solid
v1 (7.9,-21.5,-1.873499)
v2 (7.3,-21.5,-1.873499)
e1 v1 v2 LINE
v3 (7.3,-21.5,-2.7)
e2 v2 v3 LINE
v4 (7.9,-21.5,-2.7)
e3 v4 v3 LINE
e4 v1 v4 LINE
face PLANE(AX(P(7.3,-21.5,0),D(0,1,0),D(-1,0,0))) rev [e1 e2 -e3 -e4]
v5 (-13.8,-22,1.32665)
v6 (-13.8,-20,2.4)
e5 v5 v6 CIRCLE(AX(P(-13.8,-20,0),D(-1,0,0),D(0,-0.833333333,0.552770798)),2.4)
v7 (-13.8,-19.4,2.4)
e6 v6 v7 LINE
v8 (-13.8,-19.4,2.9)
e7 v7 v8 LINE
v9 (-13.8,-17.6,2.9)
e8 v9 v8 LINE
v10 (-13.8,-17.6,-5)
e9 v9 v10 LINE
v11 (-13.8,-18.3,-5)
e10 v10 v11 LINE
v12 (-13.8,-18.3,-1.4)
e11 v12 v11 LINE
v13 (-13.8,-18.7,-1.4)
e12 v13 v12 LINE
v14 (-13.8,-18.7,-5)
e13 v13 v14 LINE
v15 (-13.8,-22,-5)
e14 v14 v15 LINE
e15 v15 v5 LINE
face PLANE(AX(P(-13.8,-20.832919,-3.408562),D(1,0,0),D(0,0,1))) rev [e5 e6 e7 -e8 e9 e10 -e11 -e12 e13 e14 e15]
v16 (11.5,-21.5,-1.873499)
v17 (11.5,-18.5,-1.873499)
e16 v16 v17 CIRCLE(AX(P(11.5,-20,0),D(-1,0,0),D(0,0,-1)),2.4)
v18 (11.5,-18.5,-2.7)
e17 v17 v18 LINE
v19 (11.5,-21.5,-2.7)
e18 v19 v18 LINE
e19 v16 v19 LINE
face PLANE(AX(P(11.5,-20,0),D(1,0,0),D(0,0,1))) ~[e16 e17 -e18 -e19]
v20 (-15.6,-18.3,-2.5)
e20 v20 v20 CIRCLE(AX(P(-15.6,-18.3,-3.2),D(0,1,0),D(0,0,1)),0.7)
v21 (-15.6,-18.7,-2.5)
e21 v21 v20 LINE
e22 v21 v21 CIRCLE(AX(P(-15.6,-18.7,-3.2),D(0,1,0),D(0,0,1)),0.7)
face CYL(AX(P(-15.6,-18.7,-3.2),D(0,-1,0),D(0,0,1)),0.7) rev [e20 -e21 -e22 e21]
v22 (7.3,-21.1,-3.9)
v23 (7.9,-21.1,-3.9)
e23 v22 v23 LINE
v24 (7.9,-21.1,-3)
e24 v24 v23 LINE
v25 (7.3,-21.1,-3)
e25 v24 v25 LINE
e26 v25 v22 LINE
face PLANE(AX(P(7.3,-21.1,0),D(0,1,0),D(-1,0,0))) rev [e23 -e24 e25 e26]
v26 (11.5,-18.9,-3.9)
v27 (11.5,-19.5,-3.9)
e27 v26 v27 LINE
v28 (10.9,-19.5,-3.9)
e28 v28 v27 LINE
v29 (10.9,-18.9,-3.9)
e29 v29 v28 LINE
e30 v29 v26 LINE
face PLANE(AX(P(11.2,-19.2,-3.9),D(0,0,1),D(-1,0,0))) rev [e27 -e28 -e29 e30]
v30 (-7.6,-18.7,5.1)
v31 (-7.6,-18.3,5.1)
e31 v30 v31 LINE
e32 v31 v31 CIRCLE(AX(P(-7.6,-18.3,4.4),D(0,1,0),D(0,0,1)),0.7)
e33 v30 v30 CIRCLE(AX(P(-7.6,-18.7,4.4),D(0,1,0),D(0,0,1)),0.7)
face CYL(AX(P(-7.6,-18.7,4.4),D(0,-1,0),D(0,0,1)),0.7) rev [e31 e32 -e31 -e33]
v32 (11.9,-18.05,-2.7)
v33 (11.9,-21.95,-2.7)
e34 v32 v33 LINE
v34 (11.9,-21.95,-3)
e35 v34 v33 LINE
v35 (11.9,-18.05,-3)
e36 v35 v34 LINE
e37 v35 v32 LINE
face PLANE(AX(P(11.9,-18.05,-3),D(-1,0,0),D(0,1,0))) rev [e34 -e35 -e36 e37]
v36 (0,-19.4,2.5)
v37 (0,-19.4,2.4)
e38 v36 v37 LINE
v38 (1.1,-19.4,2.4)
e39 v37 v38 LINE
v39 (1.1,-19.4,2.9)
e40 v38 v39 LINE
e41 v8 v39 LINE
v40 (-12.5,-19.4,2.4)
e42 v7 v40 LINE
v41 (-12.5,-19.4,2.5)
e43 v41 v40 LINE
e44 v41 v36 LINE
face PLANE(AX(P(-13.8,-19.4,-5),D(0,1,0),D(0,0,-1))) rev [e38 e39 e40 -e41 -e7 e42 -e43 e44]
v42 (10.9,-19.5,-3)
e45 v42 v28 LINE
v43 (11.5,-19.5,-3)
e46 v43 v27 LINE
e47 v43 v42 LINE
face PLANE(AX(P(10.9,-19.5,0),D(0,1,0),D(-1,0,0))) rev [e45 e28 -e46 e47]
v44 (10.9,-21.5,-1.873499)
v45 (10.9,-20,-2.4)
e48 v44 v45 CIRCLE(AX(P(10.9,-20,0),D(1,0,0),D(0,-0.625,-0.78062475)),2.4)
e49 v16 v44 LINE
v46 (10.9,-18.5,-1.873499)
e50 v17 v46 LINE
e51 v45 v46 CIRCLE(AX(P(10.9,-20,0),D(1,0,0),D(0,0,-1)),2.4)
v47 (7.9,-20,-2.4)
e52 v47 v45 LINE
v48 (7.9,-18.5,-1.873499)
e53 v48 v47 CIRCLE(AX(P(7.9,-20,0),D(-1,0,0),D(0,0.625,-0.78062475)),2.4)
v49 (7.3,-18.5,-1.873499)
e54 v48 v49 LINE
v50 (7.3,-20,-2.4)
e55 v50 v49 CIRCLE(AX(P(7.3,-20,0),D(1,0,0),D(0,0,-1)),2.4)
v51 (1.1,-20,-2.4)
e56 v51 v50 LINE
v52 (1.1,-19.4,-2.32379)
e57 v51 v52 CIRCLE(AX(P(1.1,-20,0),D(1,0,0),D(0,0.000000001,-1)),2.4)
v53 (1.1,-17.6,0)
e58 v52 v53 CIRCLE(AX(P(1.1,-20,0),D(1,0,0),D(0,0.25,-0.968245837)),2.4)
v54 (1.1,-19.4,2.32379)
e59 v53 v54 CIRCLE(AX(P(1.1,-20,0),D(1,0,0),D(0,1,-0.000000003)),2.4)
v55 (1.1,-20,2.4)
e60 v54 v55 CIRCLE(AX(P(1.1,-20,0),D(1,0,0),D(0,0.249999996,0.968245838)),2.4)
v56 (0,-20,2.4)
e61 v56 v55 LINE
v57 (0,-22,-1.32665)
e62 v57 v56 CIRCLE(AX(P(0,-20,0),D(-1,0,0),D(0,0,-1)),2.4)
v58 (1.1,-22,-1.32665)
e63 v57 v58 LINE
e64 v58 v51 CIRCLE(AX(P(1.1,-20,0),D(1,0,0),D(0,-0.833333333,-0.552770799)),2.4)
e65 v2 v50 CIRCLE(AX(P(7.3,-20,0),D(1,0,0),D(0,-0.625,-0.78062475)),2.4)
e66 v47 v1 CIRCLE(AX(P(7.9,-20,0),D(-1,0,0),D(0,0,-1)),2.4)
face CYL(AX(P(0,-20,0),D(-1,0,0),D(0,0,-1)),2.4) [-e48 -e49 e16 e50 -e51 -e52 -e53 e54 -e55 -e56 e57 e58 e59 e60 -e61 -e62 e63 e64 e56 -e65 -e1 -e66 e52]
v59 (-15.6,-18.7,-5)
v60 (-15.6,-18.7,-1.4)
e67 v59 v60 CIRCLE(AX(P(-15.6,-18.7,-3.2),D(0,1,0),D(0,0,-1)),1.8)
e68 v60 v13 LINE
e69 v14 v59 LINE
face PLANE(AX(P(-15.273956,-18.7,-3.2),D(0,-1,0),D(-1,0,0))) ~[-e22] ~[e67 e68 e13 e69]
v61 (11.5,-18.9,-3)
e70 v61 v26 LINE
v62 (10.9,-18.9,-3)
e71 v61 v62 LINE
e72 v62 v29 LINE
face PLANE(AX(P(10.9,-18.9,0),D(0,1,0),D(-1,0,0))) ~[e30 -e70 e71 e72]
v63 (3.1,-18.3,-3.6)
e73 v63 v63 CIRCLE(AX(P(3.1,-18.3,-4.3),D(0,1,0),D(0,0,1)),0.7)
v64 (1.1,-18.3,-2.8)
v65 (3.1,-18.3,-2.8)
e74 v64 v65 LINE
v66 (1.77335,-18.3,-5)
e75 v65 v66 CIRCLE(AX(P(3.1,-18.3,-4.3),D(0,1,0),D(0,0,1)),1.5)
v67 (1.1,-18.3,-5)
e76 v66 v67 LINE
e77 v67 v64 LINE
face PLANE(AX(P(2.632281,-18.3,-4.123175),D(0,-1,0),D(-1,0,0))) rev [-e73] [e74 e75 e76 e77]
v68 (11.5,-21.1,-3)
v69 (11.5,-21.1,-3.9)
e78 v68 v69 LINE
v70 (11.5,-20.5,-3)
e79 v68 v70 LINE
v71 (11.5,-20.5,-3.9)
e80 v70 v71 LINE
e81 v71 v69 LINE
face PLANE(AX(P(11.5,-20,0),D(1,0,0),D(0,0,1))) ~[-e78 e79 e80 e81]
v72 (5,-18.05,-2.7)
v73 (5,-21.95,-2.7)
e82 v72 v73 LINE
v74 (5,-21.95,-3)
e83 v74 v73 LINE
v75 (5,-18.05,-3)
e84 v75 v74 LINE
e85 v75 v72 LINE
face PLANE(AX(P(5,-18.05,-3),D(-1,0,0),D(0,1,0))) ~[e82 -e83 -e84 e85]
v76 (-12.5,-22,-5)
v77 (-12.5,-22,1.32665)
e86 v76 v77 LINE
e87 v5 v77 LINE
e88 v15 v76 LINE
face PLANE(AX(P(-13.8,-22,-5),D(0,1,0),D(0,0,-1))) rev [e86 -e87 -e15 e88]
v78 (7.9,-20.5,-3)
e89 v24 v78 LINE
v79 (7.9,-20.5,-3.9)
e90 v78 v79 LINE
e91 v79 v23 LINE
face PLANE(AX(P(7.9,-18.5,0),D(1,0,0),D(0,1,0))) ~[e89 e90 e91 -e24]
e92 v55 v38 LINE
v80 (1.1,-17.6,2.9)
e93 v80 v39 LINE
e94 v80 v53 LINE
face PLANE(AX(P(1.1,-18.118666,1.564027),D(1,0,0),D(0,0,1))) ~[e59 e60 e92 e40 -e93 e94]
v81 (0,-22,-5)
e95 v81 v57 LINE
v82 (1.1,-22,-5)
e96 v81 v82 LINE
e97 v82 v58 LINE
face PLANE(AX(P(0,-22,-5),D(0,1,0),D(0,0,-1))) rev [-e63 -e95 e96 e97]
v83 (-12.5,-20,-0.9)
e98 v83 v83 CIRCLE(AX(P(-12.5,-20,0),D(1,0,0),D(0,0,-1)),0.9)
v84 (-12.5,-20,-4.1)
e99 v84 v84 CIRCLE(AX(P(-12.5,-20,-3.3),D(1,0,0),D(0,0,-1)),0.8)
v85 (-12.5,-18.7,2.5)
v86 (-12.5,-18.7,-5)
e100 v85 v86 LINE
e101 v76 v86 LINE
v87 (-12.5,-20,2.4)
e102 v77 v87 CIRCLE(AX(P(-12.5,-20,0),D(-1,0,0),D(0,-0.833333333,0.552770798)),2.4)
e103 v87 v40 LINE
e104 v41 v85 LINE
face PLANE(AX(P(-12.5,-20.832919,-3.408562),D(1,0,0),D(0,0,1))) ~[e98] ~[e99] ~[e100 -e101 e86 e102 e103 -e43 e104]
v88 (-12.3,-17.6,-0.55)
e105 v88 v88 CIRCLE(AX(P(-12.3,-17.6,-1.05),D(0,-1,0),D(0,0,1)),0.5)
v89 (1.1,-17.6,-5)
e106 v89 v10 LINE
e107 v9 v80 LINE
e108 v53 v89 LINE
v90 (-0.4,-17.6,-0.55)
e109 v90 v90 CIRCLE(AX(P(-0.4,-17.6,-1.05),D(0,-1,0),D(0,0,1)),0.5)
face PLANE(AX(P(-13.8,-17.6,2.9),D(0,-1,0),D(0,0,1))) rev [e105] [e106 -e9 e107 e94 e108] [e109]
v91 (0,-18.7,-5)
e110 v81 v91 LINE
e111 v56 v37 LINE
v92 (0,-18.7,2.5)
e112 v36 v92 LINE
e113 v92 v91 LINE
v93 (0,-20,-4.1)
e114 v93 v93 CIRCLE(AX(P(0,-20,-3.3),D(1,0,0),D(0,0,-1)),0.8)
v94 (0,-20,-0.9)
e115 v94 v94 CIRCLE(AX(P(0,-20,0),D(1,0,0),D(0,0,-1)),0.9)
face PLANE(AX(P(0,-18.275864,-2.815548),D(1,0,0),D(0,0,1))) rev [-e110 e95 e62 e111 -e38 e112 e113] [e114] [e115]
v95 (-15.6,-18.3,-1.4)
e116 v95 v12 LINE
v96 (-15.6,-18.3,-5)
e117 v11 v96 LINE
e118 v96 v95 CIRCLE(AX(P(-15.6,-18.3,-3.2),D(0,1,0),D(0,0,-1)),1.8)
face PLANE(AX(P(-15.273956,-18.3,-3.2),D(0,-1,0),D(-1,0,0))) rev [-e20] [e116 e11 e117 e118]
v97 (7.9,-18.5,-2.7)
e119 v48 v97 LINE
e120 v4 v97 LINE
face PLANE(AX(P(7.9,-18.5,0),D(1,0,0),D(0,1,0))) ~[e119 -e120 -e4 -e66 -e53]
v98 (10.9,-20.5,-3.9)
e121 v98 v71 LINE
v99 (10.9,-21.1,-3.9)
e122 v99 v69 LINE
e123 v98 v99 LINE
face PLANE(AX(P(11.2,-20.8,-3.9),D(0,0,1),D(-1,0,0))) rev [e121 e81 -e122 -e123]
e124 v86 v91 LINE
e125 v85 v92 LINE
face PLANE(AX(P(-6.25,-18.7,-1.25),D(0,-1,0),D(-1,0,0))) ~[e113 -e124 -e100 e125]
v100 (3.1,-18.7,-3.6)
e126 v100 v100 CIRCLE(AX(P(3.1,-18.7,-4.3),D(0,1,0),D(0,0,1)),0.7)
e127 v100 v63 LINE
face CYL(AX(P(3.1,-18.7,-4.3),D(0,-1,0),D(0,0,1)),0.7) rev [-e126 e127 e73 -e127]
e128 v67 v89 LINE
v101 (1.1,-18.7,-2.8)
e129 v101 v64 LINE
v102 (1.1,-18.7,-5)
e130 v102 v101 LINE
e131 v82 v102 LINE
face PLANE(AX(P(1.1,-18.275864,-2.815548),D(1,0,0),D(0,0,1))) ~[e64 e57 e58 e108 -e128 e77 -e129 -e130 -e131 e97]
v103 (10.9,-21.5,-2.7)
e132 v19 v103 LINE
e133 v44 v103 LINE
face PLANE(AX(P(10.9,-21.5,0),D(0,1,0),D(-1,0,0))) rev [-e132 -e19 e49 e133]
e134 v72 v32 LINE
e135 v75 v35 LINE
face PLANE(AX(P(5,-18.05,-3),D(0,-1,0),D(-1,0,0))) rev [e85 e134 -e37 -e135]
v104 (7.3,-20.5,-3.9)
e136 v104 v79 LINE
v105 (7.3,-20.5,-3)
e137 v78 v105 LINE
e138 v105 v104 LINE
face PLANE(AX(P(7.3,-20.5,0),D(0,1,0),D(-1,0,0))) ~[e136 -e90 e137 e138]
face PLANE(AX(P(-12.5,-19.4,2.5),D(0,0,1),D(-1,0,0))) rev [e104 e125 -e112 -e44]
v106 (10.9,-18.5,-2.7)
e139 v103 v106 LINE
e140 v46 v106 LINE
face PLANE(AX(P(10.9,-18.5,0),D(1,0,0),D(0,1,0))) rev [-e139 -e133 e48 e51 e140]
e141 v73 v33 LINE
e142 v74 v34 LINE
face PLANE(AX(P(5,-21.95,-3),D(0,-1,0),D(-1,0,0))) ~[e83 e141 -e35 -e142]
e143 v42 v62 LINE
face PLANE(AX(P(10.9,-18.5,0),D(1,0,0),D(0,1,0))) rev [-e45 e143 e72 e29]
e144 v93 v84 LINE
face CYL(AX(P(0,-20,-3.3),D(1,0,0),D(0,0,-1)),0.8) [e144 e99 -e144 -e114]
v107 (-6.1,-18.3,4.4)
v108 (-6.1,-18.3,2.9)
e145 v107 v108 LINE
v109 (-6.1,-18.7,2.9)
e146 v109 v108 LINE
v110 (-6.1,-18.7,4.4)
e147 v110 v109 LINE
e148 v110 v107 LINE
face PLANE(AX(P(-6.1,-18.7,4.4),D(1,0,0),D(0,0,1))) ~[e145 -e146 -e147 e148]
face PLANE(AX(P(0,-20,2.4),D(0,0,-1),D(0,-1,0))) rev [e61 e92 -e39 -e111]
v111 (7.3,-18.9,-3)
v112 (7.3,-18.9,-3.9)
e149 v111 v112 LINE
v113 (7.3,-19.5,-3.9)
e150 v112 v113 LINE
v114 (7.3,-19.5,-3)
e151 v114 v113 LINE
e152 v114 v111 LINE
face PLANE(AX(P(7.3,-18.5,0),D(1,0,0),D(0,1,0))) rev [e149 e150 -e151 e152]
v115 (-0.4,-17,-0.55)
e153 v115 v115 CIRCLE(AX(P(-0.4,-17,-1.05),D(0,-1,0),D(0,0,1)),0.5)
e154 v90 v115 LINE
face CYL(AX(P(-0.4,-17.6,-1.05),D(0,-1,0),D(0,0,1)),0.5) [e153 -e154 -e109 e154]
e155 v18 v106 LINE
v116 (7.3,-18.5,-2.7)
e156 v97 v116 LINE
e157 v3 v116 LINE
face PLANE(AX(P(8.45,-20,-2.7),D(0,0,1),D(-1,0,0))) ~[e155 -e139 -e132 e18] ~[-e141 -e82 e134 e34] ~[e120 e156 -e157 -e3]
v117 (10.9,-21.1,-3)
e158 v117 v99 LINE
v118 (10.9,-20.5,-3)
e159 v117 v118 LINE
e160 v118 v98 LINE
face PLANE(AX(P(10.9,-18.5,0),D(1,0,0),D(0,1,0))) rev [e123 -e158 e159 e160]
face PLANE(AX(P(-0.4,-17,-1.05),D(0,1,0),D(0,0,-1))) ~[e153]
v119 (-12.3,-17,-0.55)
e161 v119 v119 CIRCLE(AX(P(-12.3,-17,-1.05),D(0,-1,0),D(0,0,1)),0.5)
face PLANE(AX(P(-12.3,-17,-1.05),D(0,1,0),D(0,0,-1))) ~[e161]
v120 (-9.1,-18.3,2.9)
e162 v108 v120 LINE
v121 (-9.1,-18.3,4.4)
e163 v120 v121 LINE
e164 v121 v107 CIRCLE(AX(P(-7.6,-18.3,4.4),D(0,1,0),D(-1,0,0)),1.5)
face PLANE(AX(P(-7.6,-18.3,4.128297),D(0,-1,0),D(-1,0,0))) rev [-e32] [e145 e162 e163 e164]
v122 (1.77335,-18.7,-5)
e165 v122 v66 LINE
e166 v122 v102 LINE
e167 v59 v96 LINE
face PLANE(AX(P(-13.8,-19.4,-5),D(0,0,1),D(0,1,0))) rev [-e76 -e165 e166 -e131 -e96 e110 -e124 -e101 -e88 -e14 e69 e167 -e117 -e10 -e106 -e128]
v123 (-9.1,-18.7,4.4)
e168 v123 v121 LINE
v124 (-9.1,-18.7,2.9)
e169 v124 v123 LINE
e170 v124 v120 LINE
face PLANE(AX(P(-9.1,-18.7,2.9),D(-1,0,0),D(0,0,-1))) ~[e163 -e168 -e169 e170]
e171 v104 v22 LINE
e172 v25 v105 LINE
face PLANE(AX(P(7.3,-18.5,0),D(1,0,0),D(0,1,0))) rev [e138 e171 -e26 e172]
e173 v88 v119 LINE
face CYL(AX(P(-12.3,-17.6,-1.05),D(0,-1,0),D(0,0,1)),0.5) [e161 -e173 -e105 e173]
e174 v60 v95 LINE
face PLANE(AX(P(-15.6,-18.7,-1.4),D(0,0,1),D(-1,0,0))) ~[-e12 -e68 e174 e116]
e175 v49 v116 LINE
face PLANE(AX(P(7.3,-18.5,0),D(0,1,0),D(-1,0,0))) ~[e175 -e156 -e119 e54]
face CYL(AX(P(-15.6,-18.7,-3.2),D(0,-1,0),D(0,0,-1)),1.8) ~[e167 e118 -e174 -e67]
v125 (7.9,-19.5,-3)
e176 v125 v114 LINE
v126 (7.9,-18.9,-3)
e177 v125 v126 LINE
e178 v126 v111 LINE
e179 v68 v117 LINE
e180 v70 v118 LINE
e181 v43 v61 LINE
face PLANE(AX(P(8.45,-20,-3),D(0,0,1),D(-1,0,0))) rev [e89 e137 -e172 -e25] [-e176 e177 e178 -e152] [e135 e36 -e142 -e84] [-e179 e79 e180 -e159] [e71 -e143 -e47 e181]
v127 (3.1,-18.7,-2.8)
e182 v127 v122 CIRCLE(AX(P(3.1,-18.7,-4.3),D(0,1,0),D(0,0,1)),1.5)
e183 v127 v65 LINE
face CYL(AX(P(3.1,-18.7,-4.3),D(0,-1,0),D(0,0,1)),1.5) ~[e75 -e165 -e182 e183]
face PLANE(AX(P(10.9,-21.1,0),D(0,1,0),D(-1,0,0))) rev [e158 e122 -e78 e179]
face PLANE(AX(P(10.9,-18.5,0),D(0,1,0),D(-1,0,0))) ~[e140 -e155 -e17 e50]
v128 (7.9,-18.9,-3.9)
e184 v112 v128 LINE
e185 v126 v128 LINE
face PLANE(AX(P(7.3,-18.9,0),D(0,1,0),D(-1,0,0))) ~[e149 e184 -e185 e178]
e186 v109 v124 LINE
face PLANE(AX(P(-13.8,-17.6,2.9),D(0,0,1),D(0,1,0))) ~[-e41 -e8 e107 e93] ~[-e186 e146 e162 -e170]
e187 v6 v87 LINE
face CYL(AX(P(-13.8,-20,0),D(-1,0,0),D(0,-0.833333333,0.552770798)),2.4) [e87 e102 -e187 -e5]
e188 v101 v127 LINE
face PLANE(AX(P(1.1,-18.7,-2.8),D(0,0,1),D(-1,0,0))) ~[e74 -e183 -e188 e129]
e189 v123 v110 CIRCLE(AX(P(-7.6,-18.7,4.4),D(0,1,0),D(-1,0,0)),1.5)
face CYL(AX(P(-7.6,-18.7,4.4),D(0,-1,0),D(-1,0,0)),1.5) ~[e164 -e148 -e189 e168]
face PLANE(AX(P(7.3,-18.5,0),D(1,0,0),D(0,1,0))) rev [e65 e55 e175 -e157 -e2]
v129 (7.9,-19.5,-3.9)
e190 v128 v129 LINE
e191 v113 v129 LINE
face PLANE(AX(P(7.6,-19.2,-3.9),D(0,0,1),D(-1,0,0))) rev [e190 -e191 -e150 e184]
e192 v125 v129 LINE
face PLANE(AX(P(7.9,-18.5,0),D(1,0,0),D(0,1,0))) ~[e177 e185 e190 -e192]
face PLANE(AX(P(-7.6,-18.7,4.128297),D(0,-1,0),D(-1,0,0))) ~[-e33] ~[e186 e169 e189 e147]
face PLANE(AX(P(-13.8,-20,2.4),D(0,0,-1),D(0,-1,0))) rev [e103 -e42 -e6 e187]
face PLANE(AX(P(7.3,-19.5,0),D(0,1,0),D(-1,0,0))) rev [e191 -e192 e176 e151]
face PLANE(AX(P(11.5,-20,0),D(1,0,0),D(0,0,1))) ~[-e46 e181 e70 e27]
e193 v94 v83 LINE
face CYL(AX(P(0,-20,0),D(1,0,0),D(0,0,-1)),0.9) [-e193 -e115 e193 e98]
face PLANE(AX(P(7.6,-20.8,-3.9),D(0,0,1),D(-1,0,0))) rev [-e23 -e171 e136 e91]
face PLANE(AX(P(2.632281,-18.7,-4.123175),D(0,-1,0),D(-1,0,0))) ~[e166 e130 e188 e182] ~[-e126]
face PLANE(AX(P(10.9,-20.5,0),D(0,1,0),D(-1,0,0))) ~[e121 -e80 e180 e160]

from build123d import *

# Parameters (mm, degrees)
SKETCH_1_R          = 2.4
EXTRUDE_1_DEPTH     = 11.5
SKETCH_1_7_W        = 0.5
SKETCH_1_7_H        = 1.8
EXTRUDE_3_DEPTH     = 1.1
EXTRUDE_START       = -13.8
SKETCH_1_8_W        = 0.5
SKETCH_1_8_H        = 1.8
EXTRUDE_4_DEPTH     = 14.9
EXTRUDE_5_DEPTH     = 1.3
SKETCH_3_W          = 0.6
SKETCH_3_H          = 0.6
EXTRUDE_6_DEPTH     = 3.9
SKETCH_3_3_W        = 0.6
SKETCH_3_3_H        = 3
EXTRUDE_7_DEPTH     = 3
EXTRUDE_START_2     = -3
SKETCH_4_W          = 6.9
SKETCH_4_H          = 3.9
EXTRUDE_8_DEPTH     = 0.3
SKETCH_6_W          = 12.5
SKETCH_6_H          = 7.5
CUT_EXTRUDE_1_DEPTH = 0.7
EXTRUDE_START_3     = -1.3
SKETCH_5_R          = 0.7
EXTRUDE_9_DEPTH     = 0.4
SKETCH_7_R          = 0.9
SKETCH_7_R_2        = 0.8
EXTRUDE_10_DEPTH    = 12.5
SKETCH_8_R          = 0.5
EXTRUDE_11_DEPTH    = 0.6
SKETCH_9_W          = 55.778584291
SKETCH_9_H          = 36.536448335
CUT_EXTRUDE_2_DEPTH = 23.165964901


with BuildPart() as part:
    # 草图1 → 凸台-拉伸1 (new body)
    with BuildSketch(Plane(origin=(0, 0, 0), x_dir=(0, 0, -1), z_dir=(1, 0, 0))):
        Circle(SKETCH_1_R)
    extrude(amount=EXTRUDE_1_DEPTH)

    # 草图1<7> → 凸台-拉伸3 (add)
    with BuildSketch(Plane(origin=(0, 0, 0), x_dir=(0, 0, -1), z_dir=(1, 0, 0))):
        with BuildLine():
            Line((5, -0.6), (2.323790008, -0.6))
            ThreePointArc((2.323790008, -0.6), (1.469693849, -1.897366594), (8e-09, -2.4))
            Line((8e-09, -2.4), (5, -2.4))
            Line((5, -2.4), (5, -0.6))
        make_face()
        with BuildLine():
            Line((-2.323790008, -0.6), (-2.4, -0.6))
            Line((-2.4, -0.6), (-2.4, -2.4))
            Line((-2.4, -2.4), (8e-09, -2.4))
            ThreePointArc((8e-09, -2.4), (-1.469693842, -1.897366599), (-2.323790008, -0.6))
        make_face()
        with Locations((-2.65, -1.5)):
            Rectangle(SKETCH_1_7_W, SKETCH_1_7_H)
        with BuildLine():
            Line((5, 2), (1.326649916, 2))
            ThreePointArc((1.326649916, 2), (2.114705629, 1.134909732), (2.4, 0))
            ThreePointArc((2.4, 0), (2.380871271, -0.302410302), (2.323790008, -0.6))
            Line((2.323790008, -0.6), (5, -0.6))
            Line((5, -0.6), (5, 2))
        make_face()
        with BuildLine():
            ThreePointArc((-2.323790008, -0.6), (-2.380871271, -0.302410299), (-2.4, 5e-09))
            Line((-2.4, 5e-09), (-2.4, -0.6))
            Line((-2.4, -0.6), (-2.323790008, -0.6))
        make_face()
    extrude(amount=EXTRUDE_3_DEPTH)

    # 草图1<8> → 凸台-拉伸4 (add)
    with BuildSketch(Plane(origin=(0, 0, 0), x_dir=(0, 0, -1), z_dir=(1, 0, 0)).offset(EXTRUDE_START)):
        with BuildLine():
            Line((5, -0.6), (2.323790008, -0.6))
            ThreePointArc((2.323790008, -0.6), (1.469693849, -1.897366594), (8e-09, -2.4))
            Line((8e-09, -2.4), (5, -2.4))
            Line((5, -2.4), (5, -0.6))
        make_face()
        with BuildLine():
            Line((2.323790008, -0.6), (-2.323790008, -0.6))
            ThreePointArc((-2.323790008, -0.6), (-1.469693842, -1.897366599), (8e-09, -2.4))
            ThreePointArc((8e-09, -2.4), (1.469693849, -1.897366594), (2.323790008, -0.6))
        make_face()
        with BuildLine():
            Line((-2.323790008, -0.6), (-2.4, -0.6))
            Line((-2.4, -0.6), (-2.4, -2.4))
            Line((-2.4, -2.4), (8e-09, -2.4))
            ThreePointArc((8e-09, -2.4), (-1.469693842, -1.897366599), (-2.323790008, -0.6))
        make_face()
        with Locations((-2.65, -1.5)):
            Rectangle(SKETCH_1_8_W, SKETCH_1_8_H)
    extrude(amount=EXTRUDE_4_DEPTH)

    # 草图1<9> → 凸台-拉伸5 (add)
    with BuildSketch(Plane(origin=(0, 0, 0), x_dir=(0, 0, -1), z_dir=(1, 0, 0)).offset(EXTRUDE_START)):
        with BuildLine():
            Line((5, 2), (1.326649916, 2))
            ThreePointArc((1.326649916, 2), (2.114705629, 1.134909732), (2.4, 0))
            ThreePointArc((2.4, 0), (2.380871271, -0.302410302), (2.323790008, -0.6))
            Line((2.323790008, -0.6), (5, -0.6))
            Line((5, -0.6), (5, 2))
        make_face()
        with BuildLine():
            Line((1.326649916, 2), (-1.326649916, 2))
            ThreePointArc((-1.326649916, 2), (-2.114705628, 1.134909735), (-2.4, 5e-09))
            ThreePointArc((-2.4, 5e-09), (-2.380871271, -0.302410299), (-2.323790008, -0.6))
            Line((-2.323790008, -0.6), (2.323790008, -0.6))
            ThreePointArc((2.323790008, -0.6), (2.380871271, -0.302410302), (2.4, 0))
            ThreePointArc((2.4, 0), (2.114705629, 1.134909732), (1.326649916, 2))
        make_face()
        with BuildLine():
            ThreePointArc((-2.323790008, -0.6), (-2.380871271, -0.302410299), (-2.4, 5e-09))
            Line((-2.4, 5e-09), (-2.4, -0.6))
            Line((-2.4, -0.6), (-2.323790008, -0.6))
        make_face()
    extrude(amount=EXTRUDE_5_DEPTH)

    # 草图3 → 凸台-拉伸6 (add)
    with BuildSketch(Plane.XY):
        with Locations((11.2, 0.8)):
            Rectangle(SKETCH_3_W, SKETCH_3_H)
        with Locations((11.2, -0.8)):
            Rectangle(SKETCH_3_W, SKETCH_3_H)
        with Locations((7.6, 0.8)):
            Rectangle(SKETCH_3_W, SKETCH_3_H)
        with Locations((7.6, -0.8)):
            Rectangle(SKETCH_3_W, SKETCH_3_H)
    extrude(amount=-EXTRUDE_6_DEPTH)

    # 草图3<3> → 凸台-拉伸7 (add)
    with BuildSketch(Plane.XY):
        with Locations((11.2, 0)):
            Rectangle(SKETCH_3_3_W, SKETCH_3_3_H)
        with Locations((7.6, 0)):
            Rectangle(SKETCH_3_3_W, SKETCH_3_3_H)
    extrude(amount=-EXTRUDE_7_DEPTH)

    # 草图4 → 凸台-拉伸8 (add)
    with BuildSketch(Plane.XY.offset(EXTRUDE_START_2)):
        with Locations((8.45, 0)):
            Rectangle(SKETCH_4_W, SKETCH_4_H)
    extrude(amount=EXTRUDE_8_DEPTH)

    # 草图6 → 切除-拉伸1 (cut)
    with BuildSketch(Plane(origin=(0, -0.6, 0), x_dir=(1, 0, 0), z_dir=(0, 1, 0))):
        with Locations((-6.25, 1.25)):
            Rectangle(SKETCH_6_W, SKETCH_6_H)
    extrude(amount=-CUT_EXTRUDE_1_DEPTH, mode=Mode.SUBTRACT)

    # 草图5 → 凸台-拉伸9 (add)
    # profile 1 of 3: a face of its own
    with BuildSketch(Plane(origin=(0, 0, 0), x_dir=(1, 0, 0), z_dir=(0, 1, 0)).offset(EXTRUDE_START_3)):
        with BuildLine():
            ThreePointArc((3.1, 2.8), (4.384523258, 5.074596669), (1.773350084, 5))
            Line((1.773350084, 5), (1.1, 5))
            Line((1.1, 5), (1.1, 2.8))
            Line((1.1, 2.8), (3.1, 2.8))
        make_face()
        with Locations(Location((3.1, 4.3, 0), (0, 0, 270))):
            Circle(SKETCH_5_R, mode=Mode.SUBTRACT)
    # profile 2 of 3: a face of its own
    with BuildSketch(Plane(origin=(0, 0, 0), x_dir=(1, 0, 0), z_dir=(0, 1, 0)).offset(EXTRUDE_START_3)):
        with BuildLine():
            Line((-6.1, -4.4), (-6.1, -2.9))
            Line((-6.1, -2.9), (-9.1, -2.9))
            Line((-9.1, -2.9), (-9.1, -4.4))
            ThreePointArc((-9.1, -4.4), (-7.6, -5.9), (-6.1, -4.4))
        make_face()
        with Locations(Location((-7.6, -4.4, 0), (0, 0, 270))):
            Circle(SKETCH_5_R, mode=Mode.SUBTRACT)
    # profile 3 of 3: a face of its own
    with BuildSketch(Plane(origin=(0, 0, 0), x_dir=(1, 0, 0), z_dir=(0, 1, 0)).offset(EXTRUDE_START_3)):
        with BuildLine():
            Line((-13.8, 5), (-15.6, 5))
            ThreePointArc((-15.6, 5), (-17.4, 3.2), (-15.6, 1.4))
            Line((-15.6, 1.4), (-13.8, 1.4))
            Line((-13.8, 1.4), (-13.8, 5))
        make_face()
        with Locations(Location((-15.6, 3.2, 0), (0, 0, 270))):
            Circle(SKETCH_5_R, mode=Mode.SUBTRACT)
    extrude(amount=-EXTRUDE_9_DEPTH)

    # 草图7 → 凸台-拉伸10 (add)
    with BuildSketch(Plane.ZY):
        with Locations(Location((0, 0, 0), (0, 0, 180))):
            Circle(SKETCH_7_R)
        with Locations(Location((-3.3, 0, 0), (0, 0, 180))):
            Circle(SKETCH_7_R_2)
    extrude(amount=EXTRUDE_10_DEPTH)

    # 草图8 → 凸台-拉伸11 (add)
    with BuildSketch(Plane.XZ.offset(2.4)):
        with Locations(Location((-12.3, -1.05, 0), (0, 0, 90))):
            Circle(SKETCH_8_R)
        with Locations(Location((-0.4, -1.05, 0), (0, 0, 90))):
            Circle(SKETCH_8_R)
    extrude(amount=EXTRUDE_11_DEPTH)


with BuildPart() as body_2:
    # 镜向2: mirrored copy
    add(part.part.mirror(Plane.ZX.offset(-10)))


with BuildPart() as part_1:
    add(part.part)

    # 草图9 → 切除-拉伸2 (cut, through all)
    with BuildSketch(Plane(origin=(0, -10, 0), x_dir=(1, 0, 0), z_dir=(0, 1, 0))):
        with Locations((1.175159636, 0.404925991)):
            Rectangle(SKETCH_9_W, SKETCH_9_H)
    extrude(amount=CUT_EXTRUDE_2_DEPTH, mode=Mode.SUBTRACT)


solid = body_2.part
